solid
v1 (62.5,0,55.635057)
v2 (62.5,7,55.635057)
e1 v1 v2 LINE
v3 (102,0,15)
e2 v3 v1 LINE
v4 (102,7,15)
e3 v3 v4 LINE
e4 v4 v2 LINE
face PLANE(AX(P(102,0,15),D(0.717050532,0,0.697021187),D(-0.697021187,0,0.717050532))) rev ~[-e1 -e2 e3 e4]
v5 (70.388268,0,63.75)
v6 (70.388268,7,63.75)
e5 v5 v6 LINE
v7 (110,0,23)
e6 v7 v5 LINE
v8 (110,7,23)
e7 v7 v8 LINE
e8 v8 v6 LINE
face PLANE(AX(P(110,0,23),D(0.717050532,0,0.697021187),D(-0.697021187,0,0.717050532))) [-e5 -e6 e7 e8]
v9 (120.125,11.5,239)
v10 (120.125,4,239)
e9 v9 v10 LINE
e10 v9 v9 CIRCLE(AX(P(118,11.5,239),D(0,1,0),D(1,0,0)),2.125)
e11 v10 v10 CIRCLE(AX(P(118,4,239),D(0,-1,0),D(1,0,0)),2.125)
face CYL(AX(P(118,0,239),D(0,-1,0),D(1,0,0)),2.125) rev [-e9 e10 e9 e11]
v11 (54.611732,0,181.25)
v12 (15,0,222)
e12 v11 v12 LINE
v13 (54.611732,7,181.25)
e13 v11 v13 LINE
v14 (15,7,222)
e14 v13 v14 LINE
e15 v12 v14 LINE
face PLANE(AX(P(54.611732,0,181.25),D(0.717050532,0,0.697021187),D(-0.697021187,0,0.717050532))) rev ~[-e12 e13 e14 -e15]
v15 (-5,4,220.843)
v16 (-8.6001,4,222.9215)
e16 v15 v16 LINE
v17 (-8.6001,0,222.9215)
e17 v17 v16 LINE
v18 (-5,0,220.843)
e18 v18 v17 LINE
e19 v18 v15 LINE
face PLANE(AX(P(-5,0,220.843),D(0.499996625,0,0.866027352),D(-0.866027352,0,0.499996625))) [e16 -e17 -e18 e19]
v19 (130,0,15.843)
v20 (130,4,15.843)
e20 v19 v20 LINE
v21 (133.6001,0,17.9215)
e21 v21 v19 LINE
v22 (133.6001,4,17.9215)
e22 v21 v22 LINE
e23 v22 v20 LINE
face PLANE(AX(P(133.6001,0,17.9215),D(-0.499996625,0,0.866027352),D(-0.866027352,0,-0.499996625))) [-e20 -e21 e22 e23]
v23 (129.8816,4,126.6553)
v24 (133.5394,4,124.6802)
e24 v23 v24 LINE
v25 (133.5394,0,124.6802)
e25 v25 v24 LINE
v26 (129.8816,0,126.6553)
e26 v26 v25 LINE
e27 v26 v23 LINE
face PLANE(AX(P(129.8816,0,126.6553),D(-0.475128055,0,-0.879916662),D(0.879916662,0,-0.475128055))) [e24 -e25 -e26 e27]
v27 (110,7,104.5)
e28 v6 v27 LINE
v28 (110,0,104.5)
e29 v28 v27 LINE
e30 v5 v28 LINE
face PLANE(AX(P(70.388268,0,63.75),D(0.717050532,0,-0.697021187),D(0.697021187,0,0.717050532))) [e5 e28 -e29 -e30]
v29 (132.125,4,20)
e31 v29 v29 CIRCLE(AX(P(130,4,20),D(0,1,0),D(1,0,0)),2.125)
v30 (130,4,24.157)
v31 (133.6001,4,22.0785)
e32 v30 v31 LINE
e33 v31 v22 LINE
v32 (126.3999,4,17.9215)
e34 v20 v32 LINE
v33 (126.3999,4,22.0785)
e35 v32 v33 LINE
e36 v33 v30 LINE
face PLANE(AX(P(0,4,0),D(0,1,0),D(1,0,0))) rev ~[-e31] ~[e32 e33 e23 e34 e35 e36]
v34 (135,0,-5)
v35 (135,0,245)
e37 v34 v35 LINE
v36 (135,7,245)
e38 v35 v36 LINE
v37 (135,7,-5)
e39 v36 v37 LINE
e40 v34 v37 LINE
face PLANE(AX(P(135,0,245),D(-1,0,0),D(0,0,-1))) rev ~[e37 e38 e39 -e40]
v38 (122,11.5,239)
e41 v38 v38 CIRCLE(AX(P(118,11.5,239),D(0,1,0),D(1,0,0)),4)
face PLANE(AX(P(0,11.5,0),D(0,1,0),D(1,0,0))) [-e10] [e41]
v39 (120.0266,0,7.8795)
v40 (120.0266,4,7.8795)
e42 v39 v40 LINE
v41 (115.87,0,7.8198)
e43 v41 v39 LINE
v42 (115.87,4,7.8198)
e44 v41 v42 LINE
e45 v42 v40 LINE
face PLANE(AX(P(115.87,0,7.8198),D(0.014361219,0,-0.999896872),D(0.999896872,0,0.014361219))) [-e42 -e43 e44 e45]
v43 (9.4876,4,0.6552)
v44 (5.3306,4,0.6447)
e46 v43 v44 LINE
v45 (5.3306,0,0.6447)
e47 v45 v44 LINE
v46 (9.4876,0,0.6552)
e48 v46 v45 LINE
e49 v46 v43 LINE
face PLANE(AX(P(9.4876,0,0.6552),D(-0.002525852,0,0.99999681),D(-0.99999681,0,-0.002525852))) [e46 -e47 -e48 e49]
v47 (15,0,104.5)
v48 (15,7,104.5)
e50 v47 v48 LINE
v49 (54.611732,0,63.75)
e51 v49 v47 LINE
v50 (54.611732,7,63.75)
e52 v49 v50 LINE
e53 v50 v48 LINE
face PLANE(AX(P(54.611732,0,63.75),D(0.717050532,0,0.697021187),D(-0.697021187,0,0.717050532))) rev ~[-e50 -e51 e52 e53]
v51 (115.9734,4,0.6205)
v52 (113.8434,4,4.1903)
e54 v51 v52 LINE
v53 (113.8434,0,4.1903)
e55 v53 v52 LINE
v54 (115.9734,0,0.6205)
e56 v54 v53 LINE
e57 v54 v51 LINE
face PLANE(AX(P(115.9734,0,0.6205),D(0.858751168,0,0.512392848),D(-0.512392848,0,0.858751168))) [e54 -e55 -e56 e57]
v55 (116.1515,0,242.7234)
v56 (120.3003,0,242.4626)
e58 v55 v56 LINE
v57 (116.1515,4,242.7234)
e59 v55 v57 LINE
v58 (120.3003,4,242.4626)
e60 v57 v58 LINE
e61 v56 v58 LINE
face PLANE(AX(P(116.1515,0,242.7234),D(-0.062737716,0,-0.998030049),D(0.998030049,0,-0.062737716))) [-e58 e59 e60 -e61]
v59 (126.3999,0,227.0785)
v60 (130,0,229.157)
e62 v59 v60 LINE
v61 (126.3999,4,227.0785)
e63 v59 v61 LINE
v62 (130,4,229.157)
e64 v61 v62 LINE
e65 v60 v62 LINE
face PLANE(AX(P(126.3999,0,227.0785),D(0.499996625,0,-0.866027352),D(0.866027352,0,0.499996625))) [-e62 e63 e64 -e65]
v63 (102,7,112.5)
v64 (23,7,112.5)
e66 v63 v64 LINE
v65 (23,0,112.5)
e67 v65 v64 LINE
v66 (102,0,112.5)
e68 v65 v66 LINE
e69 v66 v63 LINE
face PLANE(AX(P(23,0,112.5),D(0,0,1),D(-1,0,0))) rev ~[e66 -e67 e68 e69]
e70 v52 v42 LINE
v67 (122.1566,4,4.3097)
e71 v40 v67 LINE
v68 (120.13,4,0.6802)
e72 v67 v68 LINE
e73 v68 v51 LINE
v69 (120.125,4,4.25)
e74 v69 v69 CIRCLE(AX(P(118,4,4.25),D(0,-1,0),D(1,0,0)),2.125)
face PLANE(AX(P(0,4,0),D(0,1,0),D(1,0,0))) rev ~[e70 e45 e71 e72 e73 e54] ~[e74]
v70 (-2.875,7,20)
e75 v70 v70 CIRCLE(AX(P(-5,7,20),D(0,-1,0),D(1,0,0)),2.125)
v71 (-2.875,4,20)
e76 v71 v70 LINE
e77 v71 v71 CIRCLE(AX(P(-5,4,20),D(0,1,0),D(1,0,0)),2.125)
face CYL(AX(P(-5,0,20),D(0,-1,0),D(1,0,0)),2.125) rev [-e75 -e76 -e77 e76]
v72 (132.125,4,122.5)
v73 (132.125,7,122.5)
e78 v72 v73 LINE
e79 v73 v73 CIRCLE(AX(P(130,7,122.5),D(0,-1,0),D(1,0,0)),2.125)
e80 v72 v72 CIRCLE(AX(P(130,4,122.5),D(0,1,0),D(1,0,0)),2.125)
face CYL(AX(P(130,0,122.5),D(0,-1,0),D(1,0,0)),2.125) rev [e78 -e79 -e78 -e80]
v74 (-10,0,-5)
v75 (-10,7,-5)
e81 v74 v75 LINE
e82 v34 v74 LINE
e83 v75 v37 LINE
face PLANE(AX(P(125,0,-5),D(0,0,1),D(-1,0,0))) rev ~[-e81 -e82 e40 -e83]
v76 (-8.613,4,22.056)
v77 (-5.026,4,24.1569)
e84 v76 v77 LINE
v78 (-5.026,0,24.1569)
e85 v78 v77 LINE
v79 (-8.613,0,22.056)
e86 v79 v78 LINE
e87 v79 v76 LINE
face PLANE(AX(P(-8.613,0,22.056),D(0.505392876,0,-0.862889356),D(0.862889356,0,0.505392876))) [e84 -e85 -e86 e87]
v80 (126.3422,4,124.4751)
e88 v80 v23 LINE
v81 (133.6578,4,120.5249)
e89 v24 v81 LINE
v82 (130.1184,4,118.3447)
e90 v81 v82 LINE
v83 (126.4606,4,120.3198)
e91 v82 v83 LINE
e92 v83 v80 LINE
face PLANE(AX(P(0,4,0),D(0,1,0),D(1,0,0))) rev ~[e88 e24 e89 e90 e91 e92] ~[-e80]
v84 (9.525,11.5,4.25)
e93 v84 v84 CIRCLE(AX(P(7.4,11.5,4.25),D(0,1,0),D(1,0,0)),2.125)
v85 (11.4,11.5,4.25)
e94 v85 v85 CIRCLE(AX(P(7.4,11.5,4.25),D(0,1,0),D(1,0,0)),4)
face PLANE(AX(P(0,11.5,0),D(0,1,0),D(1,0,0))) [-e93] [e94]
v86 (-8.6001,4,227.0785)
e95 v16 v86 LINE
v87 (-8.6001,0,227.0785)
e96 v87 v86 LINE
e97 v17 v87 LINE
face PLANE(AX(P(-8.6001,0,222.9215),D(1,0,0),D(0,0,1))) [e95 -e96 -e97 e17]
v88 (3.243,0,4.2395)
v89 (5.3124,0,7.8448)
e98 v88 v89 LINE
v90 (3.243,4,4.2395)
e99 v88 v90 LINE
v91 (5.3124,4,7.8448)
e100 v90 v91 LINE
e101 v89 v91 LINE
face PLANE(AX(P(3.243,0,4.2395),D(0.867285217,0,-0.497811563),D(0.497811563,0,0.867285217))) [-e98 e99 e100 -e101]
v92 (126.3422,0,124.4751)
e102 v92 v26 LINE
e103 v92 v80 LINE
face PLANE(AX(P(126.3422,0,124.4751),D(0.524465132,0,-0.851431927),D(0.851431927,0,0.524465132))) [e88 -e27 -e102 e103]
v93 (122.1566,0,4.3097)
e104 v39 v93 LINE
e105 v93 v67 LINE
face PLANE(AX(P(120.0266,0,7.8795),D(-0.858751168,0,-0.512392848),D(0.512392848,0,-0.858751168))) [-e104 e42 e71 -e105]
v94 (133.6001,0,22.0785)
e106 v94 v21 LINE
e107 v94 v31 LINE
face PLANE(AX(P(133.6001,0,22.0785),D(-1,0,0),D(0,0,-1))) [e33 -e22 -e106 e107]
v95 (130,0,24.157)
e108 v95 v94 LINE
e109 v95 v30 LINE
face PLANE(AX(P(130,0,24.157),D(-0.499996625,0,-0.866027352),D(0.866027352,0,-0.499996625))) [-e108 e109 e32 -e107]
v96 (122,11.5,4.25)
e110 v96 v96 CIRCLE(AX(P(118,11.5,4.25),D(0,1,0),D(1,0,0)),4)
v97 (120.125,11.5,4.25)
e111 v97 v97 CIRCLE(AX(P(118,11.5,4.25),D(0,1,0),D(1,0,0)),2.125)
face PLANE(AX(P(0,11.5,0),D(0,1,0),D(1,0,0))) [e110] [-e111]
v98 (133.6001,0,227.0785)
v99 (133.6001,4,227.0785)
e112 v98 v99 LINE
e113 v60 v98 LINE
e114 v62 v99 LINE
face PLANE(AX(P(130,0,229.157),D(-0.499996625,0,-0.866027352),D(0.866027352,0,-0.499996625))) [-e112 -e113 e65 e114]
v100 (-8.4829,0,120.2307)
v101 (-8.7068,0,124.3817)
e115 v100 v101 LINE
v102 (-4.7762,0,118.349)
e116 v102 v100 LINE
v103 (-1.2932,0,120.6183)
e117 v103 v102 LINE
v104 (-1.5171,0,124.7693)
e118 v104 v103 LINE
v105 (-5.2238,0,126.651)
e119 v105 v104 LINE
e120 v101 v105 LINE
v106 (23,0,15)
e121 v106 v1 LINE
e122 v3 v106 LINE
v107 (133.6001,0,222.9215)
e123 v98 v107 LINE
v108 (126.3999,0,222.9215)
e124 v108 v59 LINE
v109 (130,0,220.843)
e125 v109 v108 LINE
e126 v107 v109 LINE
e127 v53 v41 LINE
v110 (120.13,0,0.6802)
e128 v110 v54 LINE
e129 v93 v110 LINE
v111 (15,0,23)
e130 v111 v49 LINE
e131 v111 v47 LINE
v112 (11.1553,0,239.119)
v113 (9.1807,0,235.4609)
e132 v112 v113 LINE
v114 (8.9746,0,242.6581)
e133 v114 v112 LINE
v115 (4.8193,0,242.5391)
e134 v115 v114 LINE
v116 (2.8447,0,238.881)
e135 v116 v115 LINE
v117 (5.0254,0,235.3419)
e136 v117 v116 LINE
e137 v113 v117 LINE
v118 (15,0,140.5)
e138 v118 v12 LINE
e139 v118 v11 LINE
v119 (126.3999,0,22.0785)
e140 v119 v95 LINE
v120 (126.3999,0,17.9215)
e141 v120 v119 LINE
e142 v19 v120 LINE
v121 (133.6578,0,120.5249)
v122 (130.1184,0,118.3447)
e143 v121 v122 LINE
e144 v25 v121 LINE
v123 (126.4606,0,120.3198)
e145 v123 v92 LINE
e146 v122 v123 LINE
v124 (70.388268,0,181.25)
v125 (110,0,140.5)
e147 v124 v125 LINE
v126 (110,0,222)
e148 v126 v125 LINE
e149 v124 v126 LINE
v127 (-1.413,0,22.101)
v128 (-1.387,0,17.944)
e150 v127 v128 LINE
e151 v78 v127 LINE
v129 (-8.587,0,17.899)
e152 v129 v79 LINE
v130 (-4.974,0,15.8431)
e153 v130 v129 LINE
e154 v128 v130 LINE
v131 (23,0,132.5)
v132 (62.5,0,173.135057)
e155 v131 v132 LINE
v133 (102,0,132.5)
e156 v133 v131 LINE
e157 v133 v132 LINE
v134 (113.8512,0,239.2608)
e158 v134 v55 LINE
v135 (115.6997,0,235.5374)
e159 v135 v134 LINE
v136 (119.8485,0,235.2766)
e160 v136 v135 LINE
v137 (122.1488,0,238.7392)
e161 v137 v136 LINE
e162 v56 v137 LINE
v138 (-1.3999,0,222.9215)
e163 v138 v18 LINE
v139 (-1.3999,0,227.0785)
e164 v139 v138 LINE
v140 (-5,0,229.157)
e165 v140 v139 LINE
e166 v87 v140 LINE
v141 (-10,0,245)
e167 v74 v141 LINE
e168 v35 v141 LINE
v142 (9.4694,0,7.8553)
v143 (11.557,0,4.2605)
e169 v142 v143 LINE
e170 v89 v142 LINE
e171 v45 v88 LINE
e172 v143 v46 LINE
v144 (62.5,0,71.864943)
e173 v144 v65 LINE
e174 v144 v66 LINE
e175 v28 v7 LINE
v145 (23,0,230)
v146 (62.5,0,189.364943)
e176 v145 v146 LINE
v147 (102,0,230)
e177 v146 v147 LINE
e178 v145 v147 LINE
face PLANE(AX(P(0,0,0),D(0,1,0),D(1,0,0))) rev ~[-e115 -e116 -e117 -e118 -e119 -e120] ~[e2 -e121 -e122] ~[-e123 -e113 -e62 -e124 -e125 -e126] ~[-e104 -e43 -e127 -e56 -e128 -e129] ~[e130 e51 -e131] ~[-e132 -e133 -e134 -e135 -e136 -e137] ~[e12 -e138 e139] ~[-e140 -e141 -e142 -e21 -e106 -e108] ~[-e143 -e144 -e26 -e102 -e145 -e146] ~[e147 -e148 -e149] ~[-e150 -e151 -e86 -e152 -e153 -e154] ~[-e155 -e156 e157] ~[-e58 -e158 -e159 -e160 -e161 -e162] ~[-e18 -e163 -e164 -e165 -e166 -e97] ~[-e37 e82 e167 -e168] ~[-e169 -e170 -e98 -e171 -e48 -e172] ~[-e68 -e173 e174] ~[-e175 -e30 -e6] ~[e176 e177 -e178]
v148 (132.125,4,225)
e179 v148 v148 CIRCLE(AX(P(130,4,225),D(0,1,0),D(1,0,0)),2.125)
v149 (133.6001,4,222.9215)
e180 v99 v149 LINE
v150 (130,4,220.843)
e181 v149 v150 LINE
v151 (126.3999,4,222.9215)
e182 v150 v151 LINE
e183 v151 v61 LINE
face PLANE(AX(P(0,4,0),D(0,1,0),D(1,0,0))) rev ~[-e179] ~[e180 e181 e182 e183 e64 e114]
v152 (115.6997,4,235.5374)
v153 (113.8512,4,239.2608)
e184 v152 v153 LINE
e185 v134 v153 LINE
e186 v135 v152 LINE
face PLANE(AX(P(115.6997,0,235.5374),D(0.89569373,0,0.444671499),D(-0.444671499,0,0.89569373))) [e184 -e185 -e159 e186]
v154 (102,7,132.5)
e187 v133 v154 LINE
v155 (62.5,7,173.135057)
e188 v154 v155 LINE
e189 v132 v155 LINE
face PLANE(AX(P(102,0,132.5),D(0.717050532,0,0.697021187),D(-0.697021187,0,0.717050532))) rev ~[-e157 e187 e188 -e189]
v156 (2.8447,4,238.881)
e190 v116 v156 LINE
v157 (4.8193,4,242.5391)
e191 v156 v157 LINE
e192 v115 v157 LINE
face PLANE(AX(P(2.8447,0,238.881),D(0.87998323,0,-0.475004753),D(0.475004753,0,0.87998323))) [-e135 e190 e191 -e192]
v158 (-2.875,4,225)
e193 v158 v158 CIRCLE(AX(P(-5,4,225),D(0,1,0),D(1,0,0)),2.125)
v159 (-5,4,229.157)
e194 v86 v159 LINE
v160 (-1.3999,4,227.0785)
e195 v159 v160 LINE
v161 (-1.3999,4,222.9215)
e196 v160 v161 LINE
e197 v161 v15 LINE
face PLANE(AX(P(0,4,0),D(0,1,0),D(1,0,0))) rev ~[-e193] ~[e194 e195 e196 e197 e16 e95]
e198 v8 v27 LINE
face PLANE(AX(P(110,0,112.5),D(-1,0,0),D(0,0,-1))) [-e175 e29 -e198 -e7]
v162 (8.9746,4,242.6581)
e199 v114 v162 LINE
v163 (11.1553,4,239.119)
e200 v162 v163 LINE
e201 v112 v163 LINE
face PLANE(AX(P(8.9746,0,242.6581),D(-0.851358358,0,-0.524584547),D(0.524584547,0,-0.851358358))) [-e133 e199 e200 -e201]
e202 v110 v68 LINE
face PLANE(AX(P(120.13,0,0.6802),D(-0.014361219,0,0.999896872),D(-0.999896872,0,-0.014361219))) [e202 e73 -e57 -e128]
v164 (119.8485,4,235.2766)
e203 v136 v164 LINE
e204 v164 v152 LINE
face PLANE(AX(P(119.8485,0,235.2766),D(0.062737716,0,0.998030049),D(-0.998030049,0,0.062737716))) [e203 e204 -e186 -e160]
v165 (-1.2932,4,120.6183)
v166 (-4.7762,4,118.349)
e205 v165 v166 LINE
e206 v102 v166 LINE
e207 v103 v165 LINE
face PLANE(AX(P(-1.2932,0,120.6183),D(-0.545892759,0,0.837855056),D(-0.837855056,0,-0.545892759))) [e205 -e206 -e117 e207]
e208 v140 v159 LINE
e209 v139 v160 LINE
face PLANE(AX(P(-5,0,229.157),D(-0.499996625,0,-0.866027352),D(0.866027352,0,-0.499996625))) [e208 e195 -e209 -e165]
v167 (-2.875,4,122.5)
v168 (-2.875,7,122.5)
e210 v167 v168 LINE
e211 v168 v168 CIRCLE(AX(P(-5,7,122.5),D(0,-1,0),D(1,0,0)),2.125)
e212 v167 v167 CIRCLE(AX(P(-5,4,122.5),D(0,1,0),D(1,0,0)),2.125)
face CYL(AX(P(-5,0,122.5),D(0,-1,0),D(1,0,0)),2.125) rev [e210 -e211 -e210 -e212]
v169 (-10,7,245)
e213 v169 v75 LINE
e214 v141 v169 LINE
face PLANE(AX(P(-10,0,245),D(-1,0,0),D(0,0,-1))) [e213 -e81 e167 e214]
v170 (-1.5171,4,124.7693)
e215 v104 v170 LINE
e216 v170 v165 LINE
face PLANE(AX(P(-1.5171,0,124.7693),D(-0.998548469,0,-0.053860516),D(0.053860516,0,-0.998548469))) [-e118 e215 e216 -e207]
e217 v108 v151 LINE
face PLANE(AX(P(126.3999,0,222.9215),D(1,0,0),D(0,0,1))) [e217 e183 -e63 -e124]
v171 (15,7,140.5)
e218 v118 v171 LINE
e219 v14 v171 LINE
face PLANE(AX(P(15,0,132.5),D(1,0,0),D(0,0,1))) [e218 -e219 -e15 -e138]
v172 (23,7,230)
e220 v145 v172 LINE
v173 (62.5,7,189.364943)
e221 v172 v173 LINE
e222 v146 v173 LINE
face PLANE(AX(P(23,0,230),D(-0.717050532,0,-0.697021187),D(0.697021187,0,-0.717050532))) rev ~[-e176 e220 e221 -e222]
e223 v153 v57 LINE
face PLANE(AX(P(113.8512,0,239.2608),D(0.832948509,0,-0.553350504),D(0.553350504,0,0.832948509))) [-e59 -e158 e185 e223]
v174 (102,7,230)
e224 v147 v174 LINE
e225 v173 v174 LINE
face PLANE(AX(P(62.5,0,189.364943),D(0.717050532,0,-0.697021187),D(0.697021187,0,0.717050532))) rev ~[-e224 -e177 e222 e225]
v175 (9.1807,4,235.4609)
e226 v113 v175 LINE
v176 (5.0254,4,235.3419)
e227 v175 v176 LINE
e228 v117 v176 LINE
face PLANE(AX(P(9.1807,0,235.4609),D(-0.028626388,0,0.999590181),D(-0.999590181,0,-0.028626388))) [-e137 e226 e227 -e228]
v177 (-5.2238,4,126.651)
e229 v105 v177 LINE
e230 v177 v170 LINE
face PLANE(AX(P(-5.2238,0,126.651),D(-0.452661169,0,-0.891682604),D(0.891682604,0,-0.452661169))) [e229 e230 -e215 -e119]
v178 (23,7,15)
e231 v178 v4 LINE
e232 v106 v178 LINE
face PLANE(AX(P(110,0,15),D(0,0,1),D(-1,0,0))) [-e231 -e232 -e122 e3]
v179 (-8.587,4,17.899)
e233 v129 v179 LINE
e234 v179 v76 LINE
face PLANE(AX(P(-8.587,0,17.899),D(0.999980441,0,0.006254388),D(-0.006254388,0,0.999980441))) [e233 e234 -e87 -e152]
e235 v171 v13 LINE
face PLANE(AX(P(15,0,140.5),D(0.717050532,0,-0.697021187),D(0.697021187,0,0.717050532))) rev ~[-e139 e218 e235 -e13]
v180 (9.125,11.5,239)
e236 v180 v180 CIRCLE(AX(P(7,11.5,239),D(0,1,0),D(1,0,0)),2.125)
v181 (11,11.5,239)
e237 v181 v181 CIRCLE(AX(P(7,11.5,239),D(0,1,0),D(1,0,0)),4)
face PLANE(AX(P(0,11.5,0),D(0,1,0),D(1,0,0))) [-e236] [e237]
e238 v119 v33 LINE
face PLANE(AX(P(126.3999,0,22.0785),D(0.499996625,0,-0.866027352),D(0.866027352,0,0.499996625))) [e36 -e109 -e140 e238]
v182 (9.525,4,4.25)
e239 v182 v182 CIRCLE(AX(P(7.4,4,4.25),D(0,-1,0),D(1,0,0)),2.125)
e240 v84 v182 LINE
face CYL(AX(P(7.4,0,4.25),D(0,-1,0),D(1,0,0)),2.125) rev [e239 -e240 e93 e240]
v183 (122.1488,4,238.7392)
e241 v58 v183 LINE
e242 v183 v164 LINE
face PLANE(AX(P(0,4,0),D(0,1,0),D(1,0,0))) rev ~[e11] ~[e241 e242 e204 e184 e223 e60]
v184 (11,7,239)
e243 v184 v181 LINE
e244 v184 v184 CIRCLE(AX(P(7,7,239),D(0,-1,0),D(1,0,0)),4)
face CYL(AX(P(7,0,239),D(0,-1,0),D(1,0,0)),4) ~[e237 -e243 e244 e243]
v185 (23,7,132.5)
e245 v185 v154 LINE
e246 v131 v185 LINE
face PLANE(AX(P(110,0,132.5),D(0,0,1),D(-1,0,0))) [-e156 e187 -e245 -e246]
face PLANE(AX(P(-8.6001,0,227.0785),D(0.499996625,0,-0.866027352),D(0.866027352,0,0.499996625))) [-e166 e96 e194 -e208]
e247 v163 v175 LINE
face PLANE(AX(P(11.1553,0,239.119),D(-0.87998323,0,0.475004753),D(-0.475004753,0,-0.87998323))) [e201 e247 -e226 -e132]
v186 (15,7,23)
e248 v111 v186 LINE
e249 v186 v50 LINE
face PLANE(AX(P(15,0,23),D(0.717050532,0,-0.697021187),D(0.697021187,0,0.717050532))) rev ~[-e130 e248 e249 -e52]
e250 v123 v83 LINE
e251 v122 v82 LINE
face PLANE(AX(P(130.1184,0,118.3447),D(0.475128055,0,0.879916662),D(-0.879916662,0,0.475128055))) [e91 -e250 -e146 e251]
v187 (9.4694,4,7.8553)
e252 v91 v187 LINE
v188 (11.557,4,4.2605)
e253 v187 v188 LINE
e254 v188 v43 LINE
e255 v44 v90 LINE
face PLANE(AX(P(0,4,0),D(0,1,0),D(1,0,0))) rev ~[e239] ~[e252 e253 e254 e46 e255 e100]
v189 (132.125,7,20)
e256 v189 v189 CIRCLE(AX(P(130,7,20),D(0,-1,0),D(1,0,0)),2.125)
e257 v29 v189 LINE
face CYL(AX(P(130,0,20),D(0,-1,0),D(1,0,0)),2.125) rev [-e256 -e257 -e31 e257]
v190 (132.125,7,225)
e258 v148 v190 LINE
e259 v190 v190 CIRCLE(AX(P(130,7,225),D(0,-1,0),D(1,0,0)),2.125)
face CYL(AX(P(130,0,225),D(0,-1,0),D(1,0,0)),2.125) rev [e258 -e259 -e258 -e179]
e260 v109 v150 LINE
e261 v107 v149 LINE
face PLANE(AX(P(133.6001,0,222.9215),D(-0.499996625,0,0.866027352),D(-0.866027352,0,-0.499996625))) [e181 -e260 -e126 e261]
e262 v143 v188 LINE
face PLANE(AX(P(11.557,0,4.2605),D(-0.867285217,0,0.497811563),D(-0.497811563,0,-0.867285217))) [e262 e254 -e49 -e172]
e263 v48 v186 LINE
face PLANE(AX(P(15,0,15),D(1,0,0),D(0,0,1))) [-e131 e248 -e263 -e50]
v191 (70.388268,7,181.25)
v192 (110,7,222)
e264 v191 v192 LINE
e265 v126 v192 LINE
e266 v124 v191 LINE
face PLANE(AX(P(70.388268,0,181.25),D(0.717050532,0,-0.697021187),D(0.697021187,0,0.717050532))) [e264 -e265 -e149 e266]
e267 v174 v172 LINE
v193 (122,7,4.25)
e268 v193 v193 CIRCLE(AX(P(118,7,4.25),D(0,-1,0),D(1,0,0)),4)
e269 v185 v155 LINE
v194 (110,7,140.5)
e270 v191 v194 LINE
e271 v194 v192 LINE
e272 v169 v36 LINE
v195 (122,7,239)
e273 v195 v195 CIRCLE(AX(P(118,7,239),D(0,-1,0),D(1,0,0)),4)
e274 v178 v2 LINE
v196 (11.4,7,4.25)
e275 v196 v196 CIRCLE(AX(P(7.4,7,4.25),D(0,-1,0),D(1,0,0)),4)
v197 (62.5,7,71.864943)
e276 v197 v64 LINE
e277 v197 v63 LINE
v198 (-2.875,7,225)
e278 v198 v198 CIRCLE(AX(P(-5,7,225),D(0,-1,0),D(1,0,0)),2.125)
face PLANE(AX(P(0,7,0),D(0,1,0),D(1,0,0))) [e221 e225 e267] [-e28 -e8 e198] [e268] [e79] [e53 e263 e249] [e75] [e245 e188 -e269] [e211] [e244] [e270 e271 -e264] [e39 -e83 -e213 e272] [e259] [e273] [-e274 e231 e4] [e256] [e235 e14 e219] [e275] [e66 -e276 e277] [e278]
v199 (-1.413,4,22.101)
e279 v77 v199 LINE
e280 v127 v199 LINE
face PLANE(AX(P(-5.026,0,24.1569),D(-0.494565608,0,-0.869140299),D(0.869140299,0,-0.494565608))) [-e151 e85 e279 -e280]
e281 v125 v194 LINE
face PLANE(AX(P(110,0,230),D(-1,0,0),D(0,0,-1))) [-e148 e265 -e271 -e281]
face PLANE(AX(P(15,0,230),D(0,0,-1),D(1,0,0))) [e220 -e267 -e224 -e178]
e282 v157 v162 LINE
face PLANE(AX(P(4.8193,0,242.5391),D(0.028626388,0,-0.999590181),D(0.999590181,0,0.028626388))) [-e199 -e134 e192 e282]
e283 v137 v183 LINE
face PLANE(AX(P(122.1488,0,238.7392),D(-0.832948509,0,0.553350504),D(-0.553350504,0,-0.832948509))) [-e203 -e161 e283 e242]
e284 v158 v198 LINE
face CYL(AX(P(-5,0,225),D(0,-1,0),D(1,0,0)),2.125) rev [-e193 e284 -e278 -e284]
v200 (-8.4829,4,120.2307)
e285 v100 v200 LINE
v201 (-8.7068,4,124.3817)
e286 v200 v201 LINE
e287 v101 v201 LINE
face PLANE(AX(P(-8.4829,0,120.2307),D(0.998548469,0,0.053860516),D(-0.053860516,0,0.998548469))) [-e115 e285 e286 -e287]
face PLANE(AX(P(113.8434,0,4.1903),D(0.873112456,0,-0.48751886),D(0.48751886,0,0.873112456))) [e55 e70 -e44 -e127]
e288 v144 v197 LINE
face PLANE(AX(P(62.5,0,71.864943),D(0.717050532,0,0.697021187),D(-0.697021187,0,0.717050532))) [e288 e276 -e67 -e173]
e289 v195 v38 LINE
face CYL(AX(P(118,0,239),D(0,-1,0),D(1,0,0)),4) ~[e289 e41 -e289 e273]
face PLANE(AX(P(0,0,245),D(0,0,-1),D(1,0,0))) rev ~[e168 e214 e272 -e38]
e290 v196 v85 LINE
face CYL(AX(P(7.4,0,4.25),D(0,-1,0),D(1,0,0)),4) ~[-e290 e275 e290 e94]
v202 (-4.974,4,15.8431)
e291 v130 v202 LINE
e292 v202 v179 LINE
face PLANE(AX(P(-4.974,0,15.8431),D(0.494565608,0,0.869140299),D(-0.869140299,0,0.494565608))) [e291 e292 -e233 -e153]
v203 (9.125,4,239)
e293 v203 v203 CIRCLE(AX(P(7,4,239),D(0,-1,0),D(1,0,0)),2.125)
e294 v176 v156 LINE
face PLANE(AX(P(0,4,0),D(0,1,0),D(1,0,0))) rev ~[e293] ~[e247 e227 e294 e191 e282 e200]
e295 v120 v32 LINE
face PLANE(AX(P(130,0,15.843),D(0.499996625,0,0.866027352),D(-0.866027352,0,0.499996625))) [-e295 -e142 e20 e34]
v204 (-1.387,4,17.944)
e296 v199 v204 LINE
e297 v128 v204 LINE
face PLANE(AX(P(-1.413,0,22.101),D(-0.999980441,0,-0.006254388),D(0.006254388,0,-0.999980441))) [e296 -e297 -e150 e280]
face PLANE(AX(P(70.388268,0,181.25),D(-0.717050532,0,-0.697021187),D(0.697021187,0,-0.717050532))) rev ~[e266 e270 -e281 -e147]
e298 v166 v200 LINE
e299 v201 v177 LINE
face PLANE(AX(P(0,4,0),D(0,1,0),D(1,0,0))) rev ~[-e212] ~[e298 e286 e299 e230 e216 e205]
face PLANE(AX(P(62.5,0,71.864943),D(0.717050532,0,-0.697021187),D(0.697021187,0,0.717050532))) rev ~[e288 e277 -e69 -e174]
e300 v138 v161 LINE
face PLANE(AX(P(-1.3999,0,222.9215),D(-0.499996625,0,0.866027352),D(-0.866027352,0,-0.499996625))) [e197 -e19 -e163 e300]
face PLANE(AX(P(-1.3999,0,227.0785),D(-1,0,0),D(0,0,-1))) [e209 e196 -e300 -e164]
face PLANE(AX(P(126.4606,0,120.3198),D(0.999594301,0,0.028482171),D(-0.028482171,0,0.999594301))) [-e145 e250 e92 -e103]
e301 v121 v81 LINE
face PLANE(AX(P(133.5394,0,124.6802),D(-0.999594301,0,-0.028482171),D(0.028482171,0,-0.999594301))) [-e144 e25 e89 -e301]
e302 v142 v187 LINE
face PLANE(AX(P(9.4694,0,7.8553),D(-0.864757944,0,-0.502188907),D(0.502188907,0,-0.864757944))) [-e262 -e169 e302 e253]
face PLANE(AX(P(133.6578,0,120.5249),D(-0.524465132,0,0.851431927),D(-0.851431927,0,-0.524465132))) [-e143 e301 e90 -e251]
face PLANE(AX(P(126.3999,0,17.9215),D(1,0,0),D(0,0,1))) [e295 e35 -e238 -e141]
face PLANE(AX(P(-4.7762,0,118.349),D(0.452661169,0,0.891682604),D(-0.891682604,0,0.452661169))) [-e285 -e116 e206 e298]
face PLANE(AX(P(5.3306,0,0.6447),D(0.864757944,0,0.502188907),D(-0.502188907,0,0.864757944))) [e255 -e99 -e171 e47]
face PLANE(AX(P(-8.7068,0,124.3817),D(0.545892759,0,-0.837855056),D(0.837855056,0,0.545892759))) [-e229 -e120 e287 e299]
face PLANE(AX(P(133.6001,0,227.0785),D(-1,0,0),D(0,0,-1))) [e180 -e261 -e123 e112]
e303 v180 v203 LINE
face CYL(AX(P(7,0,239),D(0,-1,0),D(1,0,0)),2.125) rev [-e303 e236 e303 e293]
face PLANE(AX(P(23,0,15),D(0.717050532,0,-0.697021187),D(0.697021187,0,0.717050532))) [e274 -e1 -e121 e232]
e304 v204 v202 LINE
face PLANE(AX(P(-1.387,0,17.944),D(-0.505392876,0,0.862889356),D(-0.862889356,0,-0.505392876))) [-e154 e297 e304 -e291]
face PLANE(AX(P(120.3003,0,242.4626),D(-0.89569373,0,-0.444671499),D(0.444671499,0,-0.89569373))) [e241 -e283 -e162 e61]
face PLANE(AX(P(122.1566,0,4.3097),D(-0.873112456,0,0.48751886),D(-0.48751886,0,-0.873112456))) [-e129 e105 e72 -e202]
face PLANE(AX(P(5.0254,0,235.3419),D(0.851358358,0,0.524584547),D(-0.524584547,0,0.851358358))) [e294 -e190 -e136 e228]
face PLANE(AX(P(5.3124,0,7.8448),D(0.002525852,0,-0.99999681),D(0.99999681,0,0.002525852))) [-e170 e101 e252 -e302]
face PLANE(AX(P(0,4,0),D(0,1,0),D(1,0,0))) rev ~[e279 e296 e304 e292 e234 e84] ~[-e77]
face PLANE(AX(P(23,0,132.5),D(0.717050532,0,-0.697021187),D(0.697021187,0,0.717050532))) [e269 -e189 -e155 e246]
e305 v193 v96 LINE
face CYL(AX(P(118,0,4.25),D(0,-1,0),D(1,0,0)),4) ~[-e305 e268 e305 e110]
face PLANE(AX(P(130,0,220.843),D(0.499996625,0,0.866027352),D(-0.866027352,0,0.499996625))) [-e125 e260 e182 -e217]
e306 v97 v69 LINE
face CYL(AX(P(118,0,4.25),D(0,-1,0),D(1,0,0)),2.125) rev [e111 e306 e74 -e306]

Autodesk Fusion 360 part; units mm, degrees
sketch "base" plane through (0, 0, 0) normal (0, 1, 0) x (1, 0, 0)
  line L0 (0, 0) -> (125, 0)
  line L1 (0, 0) -> (0, -245)
  line L2 (0, -245) -> (125, -245)
  line L3 (125, -245) -> (125, 0)
  line L4 (125, 0) -> (110, 0) construction
  line L5 (110, 0) -> (110, -15) construction
  line L6 (110, -15) -> (15, -15)
  line L7 (15, -15) -> (15, -230)
  line L8 (15, -230) -> (110, -230)
  line L9 (110, -230) -> (110, -15)
  line L10 (15, -122.5) -> (110, -122.5)
  line L11 (110, -122.5) -> (110, -132.5)
  line L12 (110, -132.5) -> (15, -132.5)
  line L13 (15, -132.5) -> (15, -122.5)
  line L14 (15, -122.5) -> (110, -122.5)
  line L15 (110, -122.5) -> (110, -112.5)
  line L16 (110, -112.5) -> (15, -112.5)
  line L17 (15, -112.5) -> (15, -122.5)
  line L18 (110, -112.5) -> (102, -112.5) construction
  line L19 (110, -112.5) -> (110, -104.5) construction
  line L20 (15, -15) -> (23, -15) construction
  line L21 (15, -15) -> (15, -23) construction
  line L22 (15, -23) -> (102, -112.5)
  line L23 (23, -15) -> (110, -104.5)
  line L24 (110, -15) -> (110, -23) construction
  line L25 (110, -15) -> (102, -15) construction
  line L26 (15, -112.5) -> (23, -112.5) construction
  line L27 (15, -112.5) -> (15, -104.5) construction
  line L28 (110, -23) -> (23, -112.5)
  line L29 (102, -15) -> (15, -104.5)
  line L30 (110, -132.5) -> (102, -132.5) construction
  line L31 (110, -132.5) -> (110, -140.5) construction
  line L32 (15, -132.5) -> (23, -132.5) construction
  line L33 (15, -132.5) -> (15, -140.5) construction
  line L34 (15, -230) -> (15, -222) construction
  line L35 (15, -230) -> (23, -230) construction
  line L36 (110, -230) -> (102, -230) construction
  line L37 (110, -230) -> (110, -222) construction
  line L38 (102, -132.5) -> (15, -222)
  line L39 (23, -230) -> (110, -140.5)
  line L40 (23, -132.5) -> (110, -222)
  line L41 (15, -140.5) -> (102, -230)
  line L42 (0, 0) -> (125, 0)
  line L43 (125, 0) -> (125, 5)
  line L44 (125, 5) -> (0, 5)
  line L45 (0, 5) -> (0, 0)
  dimension "d1" = 125
  dimension "d2" = 245
  dimension "d3" = 125
  dimension "d4" = 15
  dimension "d5" = 15
  dimension "d6" = 95
  dimension "d7" = 215
  dimension "d8" = 10
  dimension "d9" = 10
  dimension "d92" = 8
  dimension "d93" = 8
  dimension "d94" = 8
  dimension "d95" = 8
  dimension "d96" = 8
  dimension "d97" = 8
  dimension "d98" = 8
  dimension "d99" = 8
  dimension "d100" = 8
  dimension "d101" = 8
  dimension "d102" = 8
  dimension "d103" = 8
  dimension "d104" = 8
  dimension "d105" = 8
  dimension "d106" = 8
  dimension "d107" = 8
  dimension "d110" = 5
sketch "bolt" plane through (0, 0, 0) normal (0, 1, 0) x (1, 0, 0)
  line L0 (0, 0) -> (125, 0) construction
  line L1 (0, 0) -> (7.4, 0) construction
  line L2 (7.4, 0) -> (7.4, -4.25) construction
  circle A0 centre (7.4, -4.25) radius 2.125
  line L3 (125, 0) -> (118, 0) construction
  line L4 (118, 0) -> (118, -4.25) construction
  circle A1 centre (118, -4.25) radius 2.125
  circle A2 centre (7.4, -4.25) radius 4
  circle A3 centre (118, -4.25) radius 4
  line L5 (0, -245) -> (7, -245) construction
  line L6 (7, -245) -> (7, -239) construction
  circle A4 centre (7, -239) radius 4
  circle A5 centre (7, -239) radius 2.125
  line L7 (125, -245) -> (118, -245) construction
  line L8 (118, -245) -> (118, -239) construction
  circle A6 centre (118, -239) radius 4
  circle A7 centre (118, -239) radius 2.125
  point P0 (0, -245)
  point P1 (125, -245)
  dimension "d10" = 7.4
  dimension "d11" = 4.25
  dimension "d12" = 4.25
  dimension "d13" = 7
  dimension "d14" = 4.25
  dimension "d15" = 4.25
  dimension "d16" = 8
  dimension "d17" = 8
  dimension "d18" = 7
  dimension "d19" = 6
  dimension "d20" = 8
  dimension "d21" = 4.25
  dimension "d22" = 7
  dimension "d23" = 6
  dimension "d24" = 8
  dimension "d25" = 4.25
extrude "Extrude1" add sketch "base" along normal blind 7 contours L0 L42 L43 L44 L45 | L0 L1 L2 L3 L42 | L7 L9 L10 L14 L15 L16 L17 | L7 L9 L10 L11 L12 L13 L14
extrude "Extrude2" add sketch "bolt" along normal blind 11.5
sketch "nut" plane through (0, 0, 0) normal (0, 1, 0) x (1, 0, 0)
  line L0 (5.0254, -235.3419) -> (2.8447, -238.881)
  line L1 (2.8447, -238.881) -> (4.8193, -242.5391)
  line L2 (4.8193, -242.5391) -> (8.9746, -242.6581)
  line L3 (8.9746, -242.6581) -> (11.1553, -239.119)
  line L4 (11.1553, -239.119) -> (9.1807, -235.4609)
  line L5 (9.1807, -235.4609) -> (5.0254, -235.3419)
  line L6 (115.6997, -235.5374) -> (113.8512, -239.2608)
  line L7 (113.8512, -239.2608) -> (116.1515, -242.7234)
  line L8 (116.1515, -242.7234) -> (120.3003, -242.4626)
  line L9 (120.3003, -242.4626) -> (122.1488, -238.7392)
  line L10 (122.1488, -238.7392) -> (119.8485, -235.2766)
  line L11 (119.8485, -235.2766) -> (115.6997, -235.5374)
  line L12 (3.243, -4.2395) -> (5.3124, -7.8448)
  line L13 (5.3124, -7.8448) -> (9.4694, -7.8553)
  line L14 (9.4694, -7.8553) -> (11.557, -4.2605)
  line L15 (11.557, -4.2605) -> (9.4876, -0.6552)
  line L16 (9.4876, -0.6552) -> (5.3306, -0.6447)
  line L17 (5.3306, -0.6447) -> (3.243, -4.2395)
  line L18 (115.9734, -0.6205) -> (113.8434, -4.1903)
  line L19 (113.8434, -4.1903) -> (115.87, -7.8198)
  line L20 (115.87, -7.8198) -> (120.0266, -7.8795)
  line L21 (120.0266, -7.8795) -> (122.1566, -4.3097)
  line L22 (122.1566, -4.3097) -> (120.13, -0.6802)
  line L23 (120.13, -0.6802) -> (115.9734, -0.6205)
  point P0 (7, -239)
  point P1 (7, -239)
  point P2 (118, -239)
  point P3 (118, -239)
  point P4 (7.4, -4.25)
  point P5 (7.4, -4.25)
  point P6 (118, -4.25)
  point P7 (118, -4.25)
  dimension "d30" = 4.157
  dimension "d31" = 4.157
  dimension "d32" = 4.157
  dimension "d33" = 4.157
extrude "Extrude3" cut sketch "nut" along normal blind 4
extrude "Extrude4" cut sketch "bolt" along normal blind 10 contours A0 | A1 | A5 | A7
sketch "sides" plane through (0, 0, 0) normal (0, 1, 0) x (1, 0, 0)
  line L0 (0, -245) -> (-10, -245)
  line L1 (-10, -245) -> (-10, 0)
  line L2 (-10, 0) -> (0, 0)
  line L3 (0, 0) -> (0, -245)
  line L4 (125, -245) -> (135, -245)
  line L5 (135, -245) -> (135, 0)
  line L6 (135, 0) -> (125, 0)
  line L7 (125, 0) -> (125, -245)
  line L8 (0, 0) -> (-10, 0)
  line L9 (-10, 0) -> (-10, 5)
  line L10 (-10, 5) -> (0, 5)
  line L11 (0, 5) -> (0, 0)
  line L12 (125, 0) -> (135, 0)
  line L13 (135, 0) -> (135, 5)
  line L14 (135, 5) -> (125, 5)
  line L15 (125, 5) -> (125, 0)
  point P0 (0, -245)
  point P1 (125, -245)
  dimension "d66" = 10
  dimension "d67" = 10
  dimension "d111" = 5
  dimension "d112" = 5
extrude "Extrude7" add sketch "sides" along normal blind 7
sketch "crosssupport" plane through (0, 0, 0) normal (0, 1, 0) x (1, 0, 0)
  line L0 (0, 0) -> (0, -245) construction
  line L1 (126.3999, -227.0785) -> (130, -229.157)
  circle A0 centre (130, -225) radius 2.125
  line L2 (135, -245) -> (130, -245) construction
  line L3 (130, -229.157) -> (133.6001, -227.0785)
  line L4 (130, -220.843) -> (126.3999, -222.9215)
  line L5 (130, -245) -> (130, -225) construction
  line L6 (133.6001, -222.9215) -> (130, -220.843)
  line L7 (126.3999, -222.9215) -> (126.3999, -227.0785)
  line L8 (133.6001, -227.0785) -> (133.6001, -222.9215)
  line L9 (-1.3999, -222.9215) -> (-5, -220.843)
  line L10 (-8.6001, -227.0785) -> (-5, -229.157)
  circle A1 centre (-5, -225) radius 2.125
  line L11 (-1.3999, -227.0785) -> (-1.3999, -222.9215)
  line L12 (-10, -245) -> (-5, -245) construction
  line L13 (-5, -245) -> (-5, -225) construction
  line L14 (-5, -229.157) -> (-1.3999, -227.0785)
  line L15 (-8.6001, -222.9215) -> (-8.6001, -227.0785)
  line L16 (-5, -220.843) -> (-8.6001, -222.9215)
  line L17 (-10, -245) -> (-10, 0)
  line L18 (-4.7762, -118.349) -> (-8.4829, -120.2307)
  circle A2 centre (-5, -122.5) radius 2.125
  line L19 (-8.7068, -124.3817) -> (-5.2238, -126.651)
  line L20 (-1.5171, -124.7693) -> (-1.2932, -120.6183)
  line L21 (-10, -122.5) -> (-5, -122.5) construction
  line L22 (-1.2932, -120.6183) -> (-4.7762, -118.349)
  line L23 (-8.4829, -120.2307) -> (-8.7068, -124.3817)
  line L24 (-5.2238, -126.651) -> (-1.5171, -124.7693)
  line L25 (135, -245) -> (135, 0)
  line L26 (133.6578, -120.5249) -> (130.1184, -118.3447)
  line L27 (135, -122.5) -> (130, -122.5) construction
  circle A3 centre (130, -122.5) radius 2.125
  line L28 (133.5394, -124.6802) -> (133.6578, -120.5249)
  line L29 (130.1184, -118.3447) -> (126.4606, -120.3198)
  line L30 (129.8816, -126.6553) -> (133.5394, -124.6802)
  line L31 (126.4606, -120.3198) -> (126.3422, -124.4751)
  line L32 (126.3422, -124.4751) -> (129.8816, -126.6553)
  line L33 (133.6001, -17.9215) -> (130, -15.843)
  line L34 (130, -15.843) -> (126.3999, -17.9215)
  circle A4 centre (130, -20) radius 2.125
  line L35 (130, 0) -> (130, -20) construction
  line L36 (135, 0) -> (130, 0) construction
  line L37 (133.6001, -22.0785) -> (133.6001, -17.9215)
  line L38 (130, -24.157) -> (133.6001, -22.0785)
  line L39 (126.3999, -17.9215) -> (126.3999, -22.0785)
  line L40 (126.3999, -22.0785) -> (130, -24.157)
  circle A5 centre (-5, -20) radius 2.125
  line L41 (-4.974, -15.8431) -> (-8.587, -17.899)
  line L42 (-10, 0) -> (-5, 0) construction
  line L43 (-8.613, -22.056) -> (-5.026, -24.1569)
  line L44 (-1.413, -22.101) -> (-1.387, -17.944)
  line L45 (-5, 0) -> (-5, -20) construction
  line L46 (-1.387, -17.944) -> (-4.974, -15.8431)
  line L47 (-8.587, -17.899) -> (-8.613, -22.056)
  line L48 (-5.026, -24.1569) -> (-1.413, -22.101)
  point P0 (130, -225)
  point P1 (-5, -225)
  point P2 (-10, -122.5)
  point P3 (-5, -122.5)
  point P4 (135, -122.5)
  point P5 (130, -122.5)
  point P6 (130, -20)
  point P7 (130, -20)
  point P8 (-5, -20)
  point P9 (-5, -20)
  dimension "d68" = 5
  dimension "d70" = 4.25
  dimension "d72" = 5
  dimension "d73" = 20
  dimension "d74" = 4.25
  dimension "d75" = 4.157
  dimension "d76" = 5
  dimension "d77" = 4.25
  dimension "d78" = 4.157
  dimension "d79" = 5
  dimension "d80" = 4.25
  dimension "d82" = 5
  dimension "d84" = 4.25
  dimension "d85" = 4.157
  dimension "d86" = 5
  dimension "d87" = 20
  dimension "d88" = 4.25
  dimension "d89" = 4.157
extrude "Extrude5" cut sketch "crosssupport" along normal blind 4
extrude "Extrude6" cut sketch "crosssupport" along normal blind 10 contours A0 | A1 | A2 | A3 | A4 | A5
extrude "Extrude8" add sketch "base" along normal blind 7 contours L6 L9 L23 L28 L29 | L6 L7 L22 L23 L29 | L22 L23 L28 L29 | L9 L16 L22 L23 L28 | L7 L16 L22 L28 L29 | L9 L12 L38 L39 L40 | L7 L12 L38 L40 L41 | L8 L9 L39 L40 L41 | L38 L39 L40 L41 | L7 L8 L38 L39 L41
equation "d10 = 4.9 mm + 2.5 mm"
equation "d12 = 1.75 mm + 2.5 mm"
